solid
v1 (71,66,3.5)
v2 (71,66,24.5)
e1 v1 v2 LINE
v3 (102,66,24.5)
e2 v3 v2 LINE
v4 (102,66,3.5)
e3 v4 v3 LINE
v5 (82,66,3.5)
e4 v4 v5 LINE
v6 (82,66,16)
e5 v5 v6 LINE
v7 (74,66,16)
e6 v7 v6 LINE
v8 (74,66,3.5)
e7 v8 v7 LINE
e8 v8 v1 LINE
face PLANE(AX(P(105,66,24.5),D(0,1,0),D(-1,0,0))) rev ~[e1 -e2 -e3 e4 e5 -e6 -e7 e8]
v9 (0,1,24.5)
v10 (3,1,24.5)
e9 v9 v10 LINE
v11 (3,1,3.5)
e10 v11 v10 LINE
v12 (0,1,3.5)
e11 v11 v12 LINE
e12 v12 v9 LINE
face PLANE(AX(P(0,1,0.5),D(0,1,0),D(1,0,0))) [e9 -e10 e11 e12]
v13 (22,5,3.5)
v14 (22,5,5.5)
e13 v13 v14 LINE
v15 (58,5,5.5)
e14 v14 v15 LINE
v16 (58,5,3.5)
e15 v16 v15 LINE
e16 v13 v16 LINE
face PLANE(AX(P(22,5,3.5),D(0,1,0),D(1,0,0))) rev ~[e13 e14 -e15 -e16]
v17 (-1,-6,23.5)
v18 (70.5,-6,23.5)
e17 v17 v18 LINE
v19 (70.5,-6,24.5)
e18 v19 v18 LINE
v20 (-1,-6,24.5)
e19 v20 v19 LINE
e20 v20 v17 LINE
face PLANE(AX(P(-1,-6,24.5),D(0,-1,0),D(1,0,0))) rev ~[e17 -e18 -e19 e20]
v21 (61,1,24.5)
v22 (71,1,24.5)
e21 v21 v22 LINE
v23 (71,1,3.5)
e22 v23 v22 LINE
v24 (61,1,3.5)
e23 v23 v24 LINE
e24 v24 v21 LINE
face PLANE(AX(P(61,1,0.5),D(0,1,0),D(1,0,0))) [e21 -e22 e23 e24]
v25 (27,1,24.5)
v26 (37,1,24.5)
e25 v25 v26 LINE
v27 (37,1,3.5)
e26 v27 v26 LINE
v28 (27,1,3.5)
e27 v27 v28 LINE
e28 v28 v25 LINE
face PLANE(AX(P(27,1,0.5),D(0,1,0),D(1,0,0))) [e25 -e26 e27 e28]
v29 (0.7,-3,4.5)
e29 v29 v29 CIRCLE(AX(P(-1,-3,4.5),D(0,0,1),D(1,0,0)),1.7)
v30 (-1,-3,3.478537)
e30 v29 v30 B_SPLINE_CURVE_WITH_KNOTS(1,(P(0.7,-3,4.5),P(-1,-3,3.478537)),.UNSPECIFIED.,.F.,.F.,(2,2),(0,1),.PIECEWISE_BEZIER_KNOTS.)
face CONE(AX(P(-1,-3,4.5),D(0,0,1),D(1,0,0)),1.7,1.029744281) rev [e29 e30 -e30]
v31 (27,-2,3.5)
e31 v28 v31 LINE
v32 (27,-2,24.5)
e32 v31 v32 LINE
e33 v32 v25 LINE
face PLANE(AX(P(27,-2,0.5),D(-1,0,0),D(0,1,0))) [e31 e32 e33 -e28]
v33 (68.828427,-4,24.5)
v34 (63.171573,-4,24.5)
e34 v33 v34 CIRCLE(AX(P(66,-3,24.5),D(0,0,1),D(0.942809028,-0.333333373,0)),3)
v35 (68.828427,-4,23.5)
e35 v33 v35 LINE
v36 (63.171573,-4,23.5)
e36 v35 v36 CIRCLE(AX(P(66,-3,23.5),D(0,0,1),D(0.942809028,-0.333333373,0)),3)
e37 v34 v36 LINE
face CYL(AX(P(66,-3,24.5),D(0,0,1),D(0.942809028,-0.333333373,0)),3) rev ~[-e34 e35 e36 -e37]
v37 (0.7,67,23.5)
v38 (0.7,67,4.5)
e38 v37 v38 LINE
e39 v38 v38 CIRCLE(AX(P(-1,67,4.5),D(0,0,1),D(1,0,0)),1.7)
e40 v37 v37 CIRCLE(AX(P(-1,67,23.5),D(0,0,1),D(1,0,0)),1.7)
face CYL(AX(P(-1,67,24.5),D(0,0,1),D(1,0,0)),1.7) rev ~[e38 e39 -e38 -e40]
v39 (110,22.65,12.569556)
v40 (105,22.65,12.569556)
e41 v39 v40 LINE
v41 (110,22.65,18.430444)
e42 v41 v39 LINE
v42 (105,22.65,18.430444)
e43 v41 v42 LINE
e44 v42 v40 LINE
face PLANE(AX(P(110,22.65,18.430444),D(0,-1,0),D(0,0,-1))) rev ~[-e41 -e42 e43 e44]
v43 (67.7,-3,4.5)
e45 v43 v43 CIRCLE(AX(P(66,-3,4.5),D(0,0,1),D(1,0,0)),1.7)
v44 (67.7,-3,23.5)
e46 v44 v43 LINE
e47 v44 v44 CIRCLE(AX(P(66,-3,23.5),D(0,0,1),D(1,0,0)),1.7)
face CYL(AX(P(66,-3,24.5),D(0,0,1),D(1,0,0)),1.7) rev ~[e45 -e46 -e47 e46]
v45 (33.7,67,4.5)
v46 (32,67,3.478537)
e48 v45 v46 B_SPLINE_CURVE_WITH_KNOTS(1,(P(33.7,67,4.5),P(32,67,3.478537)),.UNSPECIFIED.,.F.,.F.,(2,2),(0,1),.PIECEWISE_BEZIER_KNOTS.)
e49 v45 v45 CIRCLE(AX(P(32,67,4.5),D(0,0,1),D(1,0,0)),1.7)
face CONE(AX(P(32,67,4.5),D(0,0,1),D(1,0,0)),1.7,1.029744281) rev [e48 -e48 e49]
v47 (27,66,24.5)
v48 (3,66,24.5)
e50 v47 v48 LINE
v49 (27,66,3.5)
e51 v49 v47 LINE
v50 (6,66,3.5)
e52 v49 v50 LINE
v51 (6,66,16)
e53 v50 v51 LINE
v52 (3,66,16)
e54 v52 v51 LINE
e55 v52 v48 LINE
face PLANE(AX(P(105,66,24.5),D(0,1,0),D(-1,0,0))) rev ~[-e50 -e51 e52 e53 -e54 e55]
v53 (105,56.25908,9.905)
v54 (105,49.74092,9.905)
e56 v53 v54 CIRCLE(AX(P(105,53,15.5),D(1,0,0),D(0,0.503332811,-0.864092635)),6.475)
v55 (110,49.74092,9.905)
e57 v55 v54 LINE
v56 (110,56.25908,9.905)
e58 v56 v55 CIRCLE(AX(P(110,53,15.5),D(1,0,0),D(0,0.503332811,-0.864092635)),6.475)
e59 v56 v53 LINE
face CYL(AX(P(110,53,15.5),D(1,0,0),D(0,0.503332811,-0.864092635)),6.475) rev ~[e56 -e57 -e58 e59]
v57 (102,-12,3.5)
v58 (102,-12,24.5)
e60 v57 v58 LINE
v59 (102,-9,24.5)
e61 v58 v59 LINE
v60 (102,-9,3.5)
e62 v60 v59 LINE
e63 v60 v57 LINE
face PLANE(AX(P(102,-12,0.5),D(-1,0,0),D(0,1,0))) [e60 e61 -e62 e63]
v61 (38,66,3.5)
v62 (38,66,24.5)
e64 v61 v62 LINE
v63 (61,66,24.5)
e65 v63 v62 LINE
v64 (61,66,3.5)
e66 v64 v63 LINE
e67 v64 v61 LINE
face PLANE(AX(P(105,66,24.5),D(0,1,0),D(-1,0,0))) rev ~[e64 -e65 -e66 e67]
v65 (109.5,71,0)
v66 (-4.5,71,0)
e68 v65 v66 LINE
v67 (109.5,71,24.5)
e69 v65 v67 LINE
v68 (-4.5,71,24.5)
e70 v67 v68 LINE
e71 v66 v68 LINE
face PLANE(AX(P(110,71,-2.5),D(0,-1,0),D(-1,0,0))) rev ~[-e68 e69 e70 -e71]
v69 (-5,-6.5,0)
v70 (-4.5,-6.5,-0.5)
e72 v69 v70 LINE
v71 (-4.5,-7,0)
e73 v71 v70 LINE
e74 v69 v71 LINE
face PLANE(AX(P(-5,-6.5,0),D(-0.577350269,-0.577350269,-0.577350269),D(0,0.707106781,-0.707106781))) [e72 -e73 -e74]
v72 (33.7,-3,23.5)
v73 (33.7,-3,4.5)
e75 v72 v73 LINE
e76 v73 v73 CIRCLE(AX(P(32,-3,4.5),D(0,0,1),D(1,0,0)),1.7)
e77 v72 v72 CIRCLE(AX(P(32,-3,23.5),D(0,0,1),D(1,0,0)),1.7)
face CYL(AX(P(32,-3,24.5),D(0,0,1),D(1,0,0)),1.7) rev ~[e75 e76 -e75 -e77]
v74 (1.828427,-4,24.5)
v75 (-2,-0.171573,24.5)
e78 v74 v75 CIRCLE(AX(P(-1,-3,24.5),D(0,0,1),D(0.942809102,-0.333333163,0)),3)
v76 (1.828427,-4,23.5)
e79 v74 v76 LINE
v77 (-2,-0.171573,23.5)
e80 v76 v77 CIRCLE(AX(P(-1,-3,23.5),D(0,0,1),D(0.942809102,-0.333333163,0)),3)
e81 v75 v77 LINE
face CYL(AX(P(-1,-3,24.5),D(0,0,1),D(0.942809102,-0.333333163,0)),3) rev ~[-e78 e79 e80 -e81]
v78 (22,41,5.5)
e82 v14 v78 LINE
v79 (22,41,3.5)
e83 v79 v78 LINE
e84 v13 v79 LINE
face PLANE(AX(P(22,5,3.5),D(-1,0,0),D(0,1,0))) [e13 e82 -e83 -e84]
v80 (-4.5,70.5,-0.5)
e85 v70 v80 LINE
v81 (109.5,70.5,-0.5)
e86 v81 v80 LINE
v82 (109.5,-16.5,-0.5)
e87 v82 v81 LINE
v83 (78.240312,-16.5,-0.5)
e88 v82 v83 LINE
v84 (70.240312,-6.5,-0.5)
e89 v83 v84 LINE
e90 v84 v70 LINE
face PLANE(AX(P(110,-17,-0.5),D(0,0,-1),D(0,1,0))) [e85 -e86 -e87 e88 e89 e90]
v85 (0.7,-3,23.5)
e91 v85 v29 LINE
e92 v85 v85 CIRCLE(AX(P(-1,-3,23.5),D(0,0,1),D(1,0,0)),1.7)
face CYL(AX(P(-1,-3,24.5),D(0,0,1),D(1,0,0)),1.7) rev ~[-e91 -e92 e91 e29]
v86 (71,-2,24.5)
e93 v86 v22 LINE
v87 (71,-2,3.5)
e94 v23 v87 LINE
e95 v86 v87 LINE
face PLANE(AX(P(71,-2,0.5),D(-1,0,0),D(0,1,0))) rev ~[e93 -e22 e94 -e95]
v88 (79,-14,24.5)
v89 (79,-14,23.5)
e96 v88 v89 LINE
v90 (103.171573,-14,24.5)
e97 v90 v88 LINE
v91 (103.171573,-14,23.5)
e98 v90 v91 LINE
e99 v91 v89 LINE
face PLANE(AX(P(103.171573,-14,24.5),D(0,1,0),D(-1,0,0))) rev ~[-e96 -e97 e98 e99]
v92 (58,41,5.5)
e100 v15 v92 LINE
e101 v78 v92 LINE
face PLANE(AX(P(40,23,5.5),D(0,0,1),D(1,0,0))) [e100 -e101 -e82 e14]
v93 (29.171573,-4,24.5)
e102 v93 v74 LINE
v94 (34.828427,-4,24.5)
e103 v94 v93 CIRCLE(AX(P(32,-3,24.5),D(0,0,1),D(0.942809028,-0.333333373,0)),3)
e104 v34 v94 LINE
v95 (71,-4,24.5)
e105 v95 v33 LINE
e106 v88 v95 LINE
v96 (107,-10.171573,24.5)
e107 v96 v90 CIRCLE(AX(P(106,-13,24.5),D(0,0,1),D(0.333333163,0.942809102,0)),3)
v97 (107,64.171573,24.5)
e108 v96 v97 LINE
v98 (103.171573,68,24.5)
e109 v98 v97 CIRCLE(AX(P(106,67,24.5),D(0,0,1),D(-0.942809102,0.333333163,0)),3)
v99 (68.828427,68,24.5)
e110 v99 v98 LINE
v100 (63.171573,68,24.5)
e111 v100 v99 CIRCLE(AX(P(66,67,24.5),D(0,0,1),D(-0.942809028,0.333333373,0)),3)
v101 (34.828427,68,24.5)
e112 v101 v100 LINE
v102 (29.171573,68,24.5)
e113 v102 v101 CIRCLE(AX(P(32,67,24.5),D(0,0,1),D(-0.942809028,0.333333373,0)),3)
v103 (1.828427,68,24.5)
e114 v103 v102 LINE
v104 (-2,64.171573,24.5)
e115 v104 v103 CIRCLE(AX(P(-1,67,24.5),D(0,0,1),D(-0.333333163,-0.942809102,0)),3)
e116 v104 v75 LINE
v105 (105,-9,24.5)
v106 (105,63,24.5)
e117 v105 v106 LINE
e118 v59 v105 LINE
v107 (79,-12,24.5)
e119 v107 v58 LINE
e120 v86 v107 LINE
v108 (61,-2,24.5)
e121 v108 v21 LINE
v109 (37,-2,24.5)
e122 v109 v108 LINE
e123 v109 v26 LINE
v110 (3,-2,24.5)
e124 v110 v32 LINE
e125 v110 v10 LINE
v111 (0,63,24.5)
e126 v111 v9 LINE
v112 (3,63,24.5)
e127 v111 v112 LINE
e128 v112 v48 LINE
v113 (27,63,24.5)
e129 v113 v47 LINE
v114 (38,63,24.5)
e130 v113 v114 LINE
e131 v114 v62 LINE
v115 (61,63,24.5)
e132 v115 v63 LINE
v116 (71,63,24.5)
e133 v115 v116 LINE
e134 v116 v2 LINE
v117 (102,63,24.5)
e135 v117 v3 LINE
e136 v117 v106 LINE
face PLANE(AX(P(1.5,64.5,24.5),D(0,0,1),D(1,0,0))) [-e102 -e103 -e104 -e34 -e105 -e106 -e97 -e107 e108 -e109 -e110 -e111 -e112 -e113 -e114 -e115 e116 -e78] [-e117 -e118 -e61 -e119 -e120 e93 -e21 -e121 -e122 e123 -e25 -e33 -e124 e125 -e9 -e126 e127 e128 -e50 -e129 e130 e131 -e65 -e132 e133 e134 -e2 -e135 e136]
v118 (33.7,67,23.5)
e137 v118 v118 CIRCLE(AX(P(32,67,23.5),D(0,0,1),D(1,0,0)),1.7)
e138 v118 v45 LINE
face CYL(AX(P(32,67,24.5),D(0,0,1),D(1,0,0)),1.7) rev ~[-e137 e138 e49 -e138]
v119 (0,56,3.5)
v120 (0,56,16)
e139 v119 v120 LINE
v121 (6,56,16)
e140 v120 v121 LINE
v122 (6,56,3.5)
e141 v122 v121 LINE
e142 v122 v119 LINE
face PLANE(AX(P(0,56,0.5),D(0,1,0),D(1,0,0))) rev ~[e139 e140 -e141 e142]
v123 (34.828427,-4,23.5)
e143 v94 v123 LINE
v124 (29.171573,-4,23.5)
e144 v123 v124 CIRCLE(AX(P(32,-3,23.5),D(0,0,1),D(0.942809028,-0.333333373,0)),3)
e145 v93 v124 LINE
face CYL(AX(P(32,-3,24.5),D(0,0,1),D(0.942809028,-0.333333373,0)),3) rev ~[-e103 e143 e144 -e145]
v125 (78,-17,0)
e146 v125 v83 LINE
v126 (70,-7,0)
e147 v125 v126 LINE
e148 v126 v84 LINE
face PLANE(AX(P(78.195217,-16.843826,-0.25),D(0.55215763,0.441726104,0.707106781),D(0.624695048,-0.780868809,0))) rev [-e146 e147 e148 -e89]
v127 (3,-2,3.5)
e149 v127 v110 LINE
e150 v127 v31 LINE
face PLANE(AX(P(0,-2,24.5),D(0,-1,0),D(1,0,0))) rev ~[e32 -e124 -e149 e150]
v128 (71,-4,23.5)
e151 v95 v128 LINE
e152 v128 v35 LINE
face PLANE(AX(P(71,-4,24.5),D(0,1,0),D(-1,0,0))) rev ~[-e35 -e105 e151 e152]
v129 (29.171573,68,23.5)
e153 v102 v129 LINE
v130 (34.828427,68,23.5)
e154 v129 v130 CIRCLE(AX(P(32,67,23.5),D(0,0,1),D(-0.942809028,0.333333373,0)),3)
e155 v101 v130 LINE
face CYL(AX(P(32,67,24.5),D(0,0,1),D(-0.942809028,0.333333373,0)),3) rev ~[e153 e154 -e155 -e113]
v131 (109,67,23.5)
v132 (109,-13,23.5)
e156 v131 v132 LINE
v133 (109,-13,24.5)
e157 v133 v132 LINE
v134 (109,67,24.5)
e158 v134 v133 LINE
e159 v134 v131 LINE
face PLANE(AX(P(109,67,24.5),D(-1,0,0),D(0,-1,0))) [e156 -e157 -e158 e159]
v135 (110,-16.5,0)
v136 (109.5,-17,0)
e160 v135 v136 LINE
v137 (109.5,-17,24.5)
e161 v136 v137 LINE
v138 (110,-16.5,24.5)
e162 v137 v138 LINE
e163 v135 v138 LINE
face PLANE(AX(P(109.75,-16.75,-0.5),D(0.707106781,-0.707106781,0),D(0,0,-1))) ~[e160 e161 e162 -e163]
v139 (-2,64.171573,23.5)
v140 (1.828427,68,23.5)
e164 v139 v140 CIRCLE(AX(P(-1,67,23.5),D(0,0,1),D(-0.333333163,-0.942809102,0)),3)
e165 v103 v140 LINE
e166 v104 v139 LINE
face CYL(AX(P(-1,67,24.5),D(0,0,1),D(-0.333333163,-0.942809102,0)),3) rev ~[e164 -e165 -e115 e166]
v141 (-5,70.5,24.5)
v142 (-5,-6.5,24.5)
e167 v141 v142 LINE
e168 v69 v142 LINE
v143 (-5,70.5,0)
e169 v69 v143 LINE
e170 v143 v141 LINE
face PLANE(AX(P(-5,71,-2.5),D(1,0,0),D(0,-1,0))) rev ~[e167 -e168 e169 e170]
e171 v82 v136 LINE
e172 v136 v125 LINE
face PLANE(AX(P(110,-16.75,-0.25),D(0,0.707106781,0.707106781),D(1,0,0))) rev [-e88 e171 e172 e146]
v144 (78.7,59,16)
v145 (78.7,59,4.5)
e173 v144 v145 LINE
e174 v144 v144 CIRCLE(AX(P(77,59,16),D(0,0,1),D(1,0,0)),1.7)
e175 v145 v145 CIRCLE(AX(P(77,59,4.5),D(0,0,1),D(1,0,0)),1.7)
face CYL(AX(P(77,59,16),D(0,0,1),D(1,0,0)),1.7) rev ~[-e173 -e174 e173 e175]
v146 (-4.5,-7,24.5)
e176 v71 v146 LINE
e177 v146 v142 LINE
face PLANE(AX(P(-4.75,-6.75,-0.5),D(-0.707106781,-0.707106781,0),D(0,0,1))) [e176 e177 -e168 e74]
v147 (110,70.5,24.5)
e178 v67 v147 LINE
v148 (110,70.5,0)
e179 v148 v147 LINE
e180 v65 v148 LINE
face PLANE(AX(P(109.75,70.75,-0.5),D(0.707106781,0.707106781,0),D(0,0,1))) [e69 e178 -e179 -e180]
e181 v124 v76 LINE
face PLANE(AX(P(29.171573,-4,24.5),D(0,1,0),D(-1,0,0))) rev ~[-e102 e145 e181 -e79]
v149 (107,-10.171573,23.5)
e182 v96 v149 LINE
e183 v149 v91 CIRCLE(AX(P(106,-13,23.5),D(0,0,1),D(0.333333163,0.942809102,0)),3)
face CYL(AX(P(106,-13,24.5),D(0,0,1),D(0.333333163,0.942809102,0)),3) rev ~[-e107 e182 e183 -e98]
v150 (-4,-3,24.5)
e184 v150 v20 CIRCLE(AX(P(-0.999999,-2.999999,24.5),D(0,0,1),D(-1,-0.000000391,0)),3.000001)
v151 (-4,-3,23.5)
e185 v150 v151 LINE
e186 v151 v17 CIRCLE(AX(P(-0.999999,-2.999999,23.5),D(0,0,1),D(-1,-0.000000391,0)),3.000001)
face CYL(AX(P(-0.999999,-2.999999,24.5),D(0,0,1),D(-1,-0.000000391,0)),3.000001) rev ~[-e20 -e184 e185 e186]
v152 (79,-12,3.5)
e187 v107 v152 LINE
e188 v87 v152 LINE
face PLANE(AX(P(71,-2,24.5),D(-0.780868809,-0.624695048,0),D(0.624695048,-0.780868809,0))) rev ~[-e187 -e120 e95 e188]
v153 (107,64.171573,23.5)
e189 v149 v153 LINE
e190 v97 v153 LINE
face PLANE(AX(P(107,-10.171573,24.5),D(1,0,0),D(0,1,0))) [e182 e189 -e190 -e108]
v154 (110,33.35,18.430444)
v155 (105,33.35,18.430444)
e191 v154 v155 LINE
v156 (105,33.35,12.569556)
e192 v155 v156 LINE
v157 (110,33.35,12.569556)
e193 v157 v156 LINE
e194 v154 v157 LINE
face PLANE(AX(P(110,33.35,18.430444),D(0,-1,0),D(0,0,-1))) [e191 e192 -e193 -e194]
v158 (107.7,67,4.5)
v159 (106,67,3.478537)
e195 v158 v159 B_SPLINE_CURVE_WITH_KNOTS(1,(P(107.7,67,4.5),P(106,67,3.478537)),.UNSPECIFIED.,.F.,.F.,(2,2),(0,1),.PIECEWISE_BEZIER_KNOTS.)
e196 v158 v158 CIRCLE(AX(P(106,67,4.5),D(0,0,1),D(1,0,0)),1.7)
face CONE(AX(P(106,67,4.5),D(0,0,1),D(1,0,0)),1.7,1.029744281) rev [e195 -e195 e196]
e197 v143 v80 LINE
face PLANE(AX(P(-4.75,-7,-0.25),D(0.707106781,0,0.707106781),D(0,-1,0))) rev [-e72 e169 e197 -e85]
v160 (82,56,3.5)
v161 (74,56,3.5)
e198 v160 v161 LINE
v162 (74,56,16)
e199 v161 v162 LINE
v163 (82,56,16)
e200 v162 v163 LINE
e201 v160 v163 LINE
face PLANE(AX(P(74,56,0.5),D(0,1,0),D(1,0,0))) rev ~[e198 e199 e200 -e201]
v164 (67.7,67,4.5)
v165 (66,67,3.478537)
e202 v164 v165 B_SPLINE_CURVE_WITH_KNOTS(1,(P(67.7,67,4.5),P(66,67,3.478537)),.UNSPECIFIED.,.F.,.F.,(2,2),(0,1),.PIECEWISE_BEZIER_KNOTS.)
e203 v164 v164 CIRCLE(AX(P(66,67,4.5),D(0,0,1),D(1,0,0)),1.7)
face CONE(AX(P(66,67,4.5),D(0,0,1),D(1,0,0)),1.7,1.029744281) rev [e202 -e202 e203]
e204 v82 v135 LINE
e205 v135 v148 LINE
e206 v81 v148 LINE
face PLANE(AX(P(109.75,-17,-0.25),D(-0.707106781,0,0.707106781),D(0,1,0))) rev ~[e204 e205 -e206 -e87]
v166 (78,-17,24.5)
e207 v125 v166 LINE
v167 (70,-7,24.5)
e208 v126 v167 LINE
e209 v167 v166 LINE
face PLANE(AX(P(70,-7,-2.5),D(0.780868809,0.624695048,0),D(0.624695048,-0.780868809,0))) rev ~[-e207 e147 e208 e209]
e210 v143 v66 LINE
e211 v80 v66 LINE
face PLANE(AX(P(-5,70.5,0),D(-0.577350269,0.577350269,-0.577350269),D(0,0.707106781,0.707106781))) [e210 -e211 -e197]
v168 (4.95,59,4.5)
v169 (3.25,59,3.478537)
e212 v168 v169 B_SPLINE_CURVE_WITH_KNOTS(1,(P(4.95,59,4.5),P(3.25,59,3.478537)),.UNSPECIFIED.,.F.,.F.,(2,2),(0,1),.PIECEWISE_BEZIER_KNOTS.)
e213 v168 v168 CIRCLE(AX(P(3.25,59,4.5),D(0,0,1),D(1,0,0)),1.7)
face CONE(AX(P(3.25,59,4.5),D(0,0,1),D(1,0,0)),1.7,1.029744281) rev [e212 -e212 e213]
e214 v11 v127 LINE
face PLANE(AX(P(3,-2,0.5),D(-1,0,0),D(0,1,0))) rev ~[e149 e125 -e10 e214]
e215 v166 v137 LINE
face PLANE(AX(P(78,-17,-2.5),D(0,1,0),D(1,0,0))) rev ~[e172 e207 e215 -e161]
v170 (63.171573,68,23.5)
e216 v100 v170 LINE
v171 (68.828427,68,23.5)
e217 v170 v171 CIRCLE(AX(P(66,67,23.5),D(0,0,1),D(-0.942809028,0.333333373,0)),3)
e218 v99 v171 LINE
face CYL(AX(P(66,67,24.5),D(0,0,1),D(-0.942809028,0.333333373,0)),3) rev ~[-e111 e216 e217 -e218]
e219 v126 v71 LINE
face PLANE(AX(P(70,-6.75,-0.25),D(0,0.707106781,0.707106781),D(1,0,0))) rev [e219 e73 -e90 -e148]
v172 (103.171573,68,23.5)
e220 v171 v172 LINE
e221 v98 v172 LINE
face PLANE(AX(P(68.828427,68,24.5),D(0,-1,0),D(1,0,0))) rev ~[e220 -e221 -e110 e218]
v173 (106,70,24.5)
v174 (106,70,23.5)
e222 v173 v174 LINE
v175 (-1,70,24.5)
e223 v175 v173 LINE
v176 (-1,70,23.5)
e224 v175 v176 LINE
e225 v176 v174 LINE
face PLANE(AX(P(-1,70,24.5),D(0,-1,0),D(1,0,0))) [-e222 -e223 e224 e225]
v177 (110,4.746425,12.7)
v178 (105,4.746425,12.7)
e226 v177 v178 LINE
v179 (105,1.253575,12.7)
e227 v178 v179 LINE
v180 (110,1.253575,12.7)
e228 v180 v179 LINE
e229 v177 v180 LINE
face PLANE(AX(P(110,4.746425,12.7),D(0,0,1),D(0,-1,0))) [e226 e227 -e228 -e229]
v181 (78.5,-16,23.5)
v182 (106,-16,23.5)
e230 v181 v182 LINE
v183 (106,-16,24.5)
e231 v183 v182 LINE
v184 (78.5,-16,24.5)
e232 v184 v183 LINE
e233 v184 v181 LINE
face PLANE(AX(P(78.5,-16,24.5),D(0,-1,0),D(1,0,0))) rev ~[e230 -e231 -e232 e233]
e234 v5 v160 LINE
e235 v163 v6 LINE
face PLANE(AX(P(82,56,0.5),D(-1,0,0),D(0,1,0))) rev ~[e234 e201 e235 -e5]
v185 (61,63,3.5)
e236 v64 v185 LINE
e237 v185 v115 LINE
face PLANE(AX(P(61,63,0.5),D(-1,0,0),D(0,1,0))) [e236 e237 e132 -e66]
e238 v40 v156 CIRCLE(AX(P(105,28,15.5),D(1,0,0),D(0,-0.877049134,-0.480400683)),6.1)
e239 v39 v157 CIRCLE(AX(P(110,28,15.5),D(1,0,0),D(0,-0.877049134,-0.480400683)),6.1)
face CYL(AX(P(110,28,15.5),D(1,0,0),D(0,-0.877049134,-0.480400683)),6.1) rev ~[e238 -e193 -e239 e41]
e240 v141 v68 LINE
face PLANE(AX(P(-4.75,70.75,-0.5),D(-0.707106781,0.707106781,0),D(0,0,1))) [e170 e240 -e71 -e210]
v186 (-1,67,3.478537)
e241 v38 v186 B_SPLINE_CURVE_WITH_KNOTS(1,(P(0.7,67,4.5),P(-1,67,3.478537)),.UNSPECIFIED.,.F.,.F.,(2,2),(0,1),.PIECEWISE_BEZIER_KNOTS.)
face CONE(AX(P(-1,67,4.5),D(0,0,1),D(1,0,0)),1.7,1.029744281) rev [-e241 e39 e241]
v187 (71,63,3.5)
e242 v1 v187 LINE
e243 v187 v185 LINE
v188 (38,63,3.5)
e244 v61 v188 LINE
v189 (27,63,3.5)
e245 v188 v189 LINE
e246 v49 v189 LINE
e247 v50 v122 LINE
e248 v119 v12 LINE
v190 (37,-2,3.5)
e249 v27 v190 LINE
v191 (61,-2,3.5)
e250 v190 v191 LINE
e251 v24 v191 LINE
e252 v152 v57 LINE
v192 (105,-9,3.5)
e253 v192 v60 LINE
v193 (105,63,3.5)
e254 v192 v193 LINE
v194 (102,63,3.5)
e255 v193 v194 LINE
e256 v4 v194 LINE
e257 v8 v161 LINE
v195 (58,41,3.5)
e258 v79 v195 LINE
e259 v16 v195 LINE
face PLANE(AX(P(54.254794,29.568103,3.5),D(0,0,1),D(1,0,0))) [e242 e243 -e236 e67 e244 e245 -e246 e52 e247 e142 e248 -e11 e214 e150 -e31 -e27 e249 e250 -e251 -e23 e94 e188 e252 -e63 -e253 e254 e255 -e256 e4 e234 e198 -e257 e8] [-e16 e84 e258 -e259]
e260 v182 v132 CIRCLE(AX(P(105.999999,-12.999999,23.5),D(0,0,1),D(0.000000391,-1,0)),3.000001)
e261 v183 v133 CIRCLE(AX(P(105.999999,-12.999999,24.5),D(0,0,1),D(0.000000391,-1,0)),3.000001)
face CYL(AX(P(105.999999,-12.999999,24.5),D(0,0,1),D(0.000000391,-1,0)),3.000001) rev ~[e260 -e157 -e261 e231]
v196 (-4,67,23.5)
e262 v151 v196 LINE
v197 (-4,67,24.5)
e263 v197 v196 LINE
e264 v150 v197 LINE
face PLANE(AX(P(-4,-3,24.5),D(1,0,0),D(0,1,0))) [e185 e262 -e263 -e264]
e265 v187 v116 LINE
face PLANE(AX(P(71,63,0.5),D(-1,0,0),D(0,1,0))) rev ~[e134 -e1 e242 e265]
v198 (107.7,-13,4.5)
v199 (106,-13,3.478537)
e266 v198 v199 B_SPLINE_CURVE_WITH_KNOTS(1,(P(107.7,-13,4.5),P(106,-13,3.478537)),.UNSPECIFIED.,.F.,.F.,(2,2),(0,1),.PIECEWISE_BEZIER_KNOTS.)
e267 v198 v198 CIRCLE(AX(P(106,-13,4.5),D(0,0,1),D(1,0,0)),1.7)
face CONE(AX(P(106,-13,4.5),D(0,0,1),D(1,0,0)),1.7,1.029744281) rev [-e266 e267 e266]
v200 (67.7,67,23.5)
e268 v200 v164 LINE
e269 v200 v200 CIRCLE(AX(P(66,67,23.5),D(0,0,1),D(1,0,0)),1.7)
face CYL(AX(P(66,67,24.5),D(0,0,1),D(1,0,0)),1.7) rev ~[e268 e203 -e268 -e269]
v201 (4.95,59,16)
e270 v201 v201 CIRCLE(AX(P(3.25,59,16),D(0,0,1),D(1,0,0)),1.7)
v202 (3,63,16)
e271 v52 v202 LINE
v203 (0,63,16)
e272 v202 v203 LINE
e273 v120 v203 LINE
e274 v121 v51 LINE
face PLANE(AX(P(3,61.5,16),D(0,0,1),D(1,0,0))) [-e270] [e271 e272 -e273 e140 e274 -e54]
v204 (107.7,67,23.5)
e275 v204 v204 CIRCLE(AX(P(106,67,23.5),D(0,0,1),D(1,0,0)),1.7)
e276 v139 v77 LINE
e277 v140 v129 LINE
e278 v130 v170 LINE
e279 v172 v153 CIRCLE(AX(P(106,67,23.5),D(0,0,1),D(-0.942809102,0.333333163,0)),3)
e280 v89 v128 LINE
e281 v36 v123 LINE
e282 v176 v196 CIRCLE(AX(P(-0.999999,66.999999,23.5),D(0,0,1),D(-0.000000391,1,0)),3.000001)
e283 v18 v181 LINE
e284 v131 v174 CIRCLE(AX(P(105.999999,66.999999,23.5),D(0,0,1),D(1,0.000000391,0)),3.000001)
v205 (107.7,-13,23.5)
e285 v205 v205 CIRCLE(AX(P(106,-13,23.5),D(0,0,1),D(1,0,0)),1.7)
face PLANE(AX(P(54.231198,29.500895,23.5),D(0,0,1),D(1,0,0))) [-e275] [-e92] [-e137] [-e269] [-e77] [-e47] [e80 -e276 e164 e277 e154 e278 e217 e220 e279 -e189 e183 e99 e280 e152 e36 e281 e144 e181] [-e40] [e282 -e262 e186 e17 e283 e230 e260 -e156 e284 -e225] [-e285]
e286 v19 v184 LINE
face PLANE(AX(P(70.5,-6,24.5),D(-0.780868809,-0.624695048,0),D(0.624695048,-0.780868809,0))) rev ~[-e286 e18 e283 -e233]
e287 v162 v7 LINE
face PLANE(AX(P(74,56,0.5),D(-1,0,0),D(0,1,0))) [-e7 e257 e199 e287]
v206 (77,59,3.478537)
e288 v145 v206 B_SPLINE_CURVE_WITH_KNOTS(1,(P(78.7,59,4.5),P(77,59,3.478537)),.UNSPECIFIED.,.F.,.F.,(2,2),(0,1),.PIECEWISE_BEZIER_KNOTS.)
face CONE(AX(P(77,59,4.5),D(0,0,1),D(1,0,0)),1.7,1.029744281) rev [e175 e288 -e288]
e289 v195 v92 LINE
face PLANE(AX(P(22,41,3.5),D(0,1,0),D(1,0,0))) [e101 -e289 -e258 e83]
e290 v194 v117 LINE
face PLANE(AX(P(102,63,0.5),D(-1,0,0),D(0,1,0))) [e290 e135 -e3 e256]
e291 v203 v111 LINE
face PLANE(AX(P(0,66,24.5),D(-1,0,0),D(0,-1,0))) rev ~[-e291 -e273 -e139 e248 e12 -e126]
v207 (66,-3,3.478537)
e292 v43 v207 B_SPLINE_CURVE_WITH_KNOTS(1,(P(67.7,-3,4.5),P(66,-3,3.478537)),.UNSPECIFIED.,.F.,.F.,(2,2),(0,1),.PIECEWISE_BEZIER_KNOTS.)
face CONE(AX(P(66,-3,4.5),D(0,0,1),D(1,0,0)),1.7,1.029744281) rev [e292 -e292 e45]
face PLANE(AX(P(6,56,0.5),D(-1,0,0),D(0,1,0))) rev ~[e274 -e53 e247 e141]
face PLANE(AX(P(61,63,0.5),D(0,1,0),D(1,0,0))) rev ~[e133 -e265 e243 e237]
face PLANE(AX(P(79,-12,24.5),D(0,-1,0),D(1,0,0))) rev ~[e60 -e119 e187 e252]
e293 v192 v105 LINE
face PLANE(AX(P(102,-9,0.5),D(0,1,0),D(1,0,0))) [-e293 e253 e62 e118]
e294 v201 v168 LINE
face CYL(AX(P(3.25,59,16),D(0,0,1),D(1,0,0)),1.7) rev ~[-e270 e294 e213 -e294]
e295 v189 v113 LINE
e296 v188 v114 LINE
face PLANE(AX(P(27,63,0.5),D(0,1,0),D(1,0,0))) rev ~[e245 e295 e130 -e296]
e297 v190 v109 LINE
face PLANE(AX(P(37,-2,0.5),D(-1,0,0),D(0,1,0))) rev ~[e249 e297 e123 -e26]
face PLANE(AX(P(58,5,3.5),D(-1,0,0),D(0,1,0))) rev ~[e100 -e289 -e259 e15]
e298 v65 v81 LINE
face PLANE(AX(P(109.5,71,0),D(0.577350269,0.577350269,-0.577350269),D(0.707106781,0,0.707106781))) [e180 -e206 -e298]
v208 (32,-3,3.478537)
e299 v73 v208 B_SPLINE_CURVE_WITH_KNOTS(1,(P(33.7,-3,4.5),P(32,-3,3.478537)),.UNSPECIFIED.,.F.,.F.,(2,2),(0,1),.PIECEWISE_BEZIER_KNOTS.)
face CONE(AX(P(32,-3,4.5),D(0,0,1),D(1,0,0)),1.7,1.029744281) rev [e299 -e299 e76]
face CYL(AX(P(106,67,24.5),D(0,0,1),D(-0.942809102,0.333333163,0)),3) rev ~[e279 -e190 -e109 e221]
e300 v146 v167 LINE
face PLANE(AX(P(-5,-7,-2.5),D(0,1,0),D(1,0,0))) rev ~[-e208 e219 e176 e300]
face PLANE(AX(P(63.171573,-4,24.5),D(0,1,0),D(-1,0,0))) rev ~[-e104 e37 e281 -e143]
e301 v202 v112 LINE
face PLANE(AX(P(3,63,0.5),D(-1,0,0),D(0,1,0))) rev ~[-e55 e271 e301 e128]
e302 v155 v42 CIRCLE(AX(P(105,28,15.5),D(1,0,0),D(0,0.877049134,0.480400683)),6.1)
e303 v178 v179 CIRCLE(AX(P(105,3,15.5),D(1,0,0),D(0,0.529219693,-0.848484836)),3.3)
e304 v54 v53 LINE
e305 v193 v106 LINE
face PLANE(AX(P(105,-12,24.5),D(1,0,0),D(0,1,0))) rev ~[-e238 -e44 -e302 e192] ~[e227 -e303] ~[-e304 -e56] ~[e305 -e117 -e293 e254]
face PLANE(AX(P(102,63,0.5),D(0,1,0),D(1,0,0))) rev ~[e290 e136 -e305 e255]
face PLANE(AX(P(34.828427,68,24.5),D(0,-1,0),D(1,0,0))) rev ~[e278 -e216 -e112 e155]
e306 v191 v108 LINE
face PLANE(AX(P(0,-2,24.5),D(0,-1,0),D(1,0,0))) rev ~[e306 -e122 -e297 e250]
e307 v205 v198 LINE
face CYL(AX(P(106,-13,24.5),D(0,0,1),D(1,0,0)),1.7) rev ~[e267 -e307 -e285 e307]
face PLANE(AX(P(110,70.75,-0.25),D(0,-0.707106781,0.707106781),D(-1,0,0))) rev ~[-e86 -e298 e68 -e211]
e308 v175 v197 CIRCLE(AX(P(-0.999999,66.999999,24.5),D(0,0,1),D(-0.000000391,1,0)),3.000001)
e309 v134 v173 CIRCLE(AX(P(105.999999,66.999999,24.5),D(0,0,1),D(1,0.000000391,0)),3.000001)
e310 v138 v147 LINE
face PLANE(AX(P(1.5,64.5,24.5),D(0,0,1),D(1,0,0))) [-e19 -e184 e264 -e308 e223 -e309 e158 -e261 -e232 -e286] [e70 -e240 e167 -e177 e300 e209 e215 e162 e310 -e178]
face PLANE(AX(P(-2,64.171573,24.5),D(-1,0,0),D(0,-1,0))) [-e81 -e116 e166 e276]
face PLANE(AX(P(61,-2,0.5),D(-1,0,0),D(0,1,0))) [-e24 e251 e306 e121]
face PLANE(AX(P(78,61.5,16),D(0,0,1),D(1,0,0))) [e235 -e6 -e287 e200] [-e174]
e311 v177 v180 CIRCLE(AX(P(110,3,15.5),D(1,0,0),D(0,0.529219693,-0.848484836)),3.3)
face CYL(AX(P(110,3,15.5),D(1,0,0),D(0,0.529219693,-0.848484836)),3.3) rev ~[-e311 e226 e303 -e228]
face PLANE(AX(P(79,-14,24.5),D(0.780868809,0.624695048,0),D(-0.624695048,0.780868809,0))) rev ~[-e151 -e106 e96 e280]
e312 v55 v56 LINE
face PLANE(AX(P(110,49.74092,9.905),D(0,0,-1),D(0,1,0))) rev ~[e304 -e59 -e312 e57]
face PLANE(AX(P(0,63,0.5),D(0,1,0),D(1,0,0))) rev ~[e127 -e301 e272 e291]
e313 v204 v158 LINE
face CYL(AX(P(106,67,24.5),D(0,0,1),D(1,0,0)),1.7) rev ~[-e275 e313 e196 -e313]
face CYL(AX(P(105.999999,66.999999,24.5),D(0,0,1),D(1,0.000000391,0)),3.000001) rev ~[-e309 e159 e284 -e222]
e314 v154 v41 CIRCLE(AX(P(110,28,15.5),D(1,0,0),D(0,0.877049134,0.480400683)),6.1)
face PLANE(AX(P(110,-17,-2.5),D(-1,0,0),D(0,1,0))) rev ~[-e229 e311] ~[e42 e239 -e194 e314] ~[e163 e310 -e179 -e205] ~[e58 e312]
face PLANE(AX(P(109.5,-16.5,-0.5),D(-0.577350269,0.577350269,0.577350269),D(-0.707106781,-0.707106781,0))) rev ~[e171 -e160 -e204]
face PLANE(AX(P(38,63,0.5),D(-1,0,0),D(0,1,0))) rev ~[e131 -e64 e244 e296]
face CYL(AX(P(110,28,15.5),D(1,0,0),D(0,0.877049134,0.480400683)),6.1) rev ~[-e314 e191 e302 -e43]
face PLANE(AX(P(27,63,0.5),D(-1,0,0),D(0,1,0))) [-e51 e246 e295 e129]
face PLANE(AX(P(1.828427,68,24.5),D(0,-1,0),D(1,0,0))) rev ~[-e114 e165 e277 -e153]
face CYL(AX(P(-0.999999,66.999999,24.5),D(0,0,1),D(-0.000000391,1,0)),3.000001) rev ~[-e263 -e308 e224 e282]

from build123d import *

# Parameters (mm, degrees)
PAD_DEPTH       = 27
POCKET_DEPTH    = 21
POCKET005_DEPTH = 5
SKETCH015_W     = 6
SKETCH015_H     = 11
SKETCH015_W_2   = 8
PAD006_DEPTH    = 15.5
SKETCH012_W     = 3
SKETCH012_H     = 3
SKETCH012_W_2   = 10
SKETCH012_W_3   = 11
PAD007_DEPTH    = 24
SKETCH016_R     = 1.7
HOLE_DEPTH      = 11.5
HOLE_TIPS_R     = 1.7
SKETCH017_R     = 1.7
HOLE001_DEPTH   = 20
HOLE001_TIPS_R  = 1.7
SKETCH018_W     = 36
SKETCH018_H     = 36
PAD008_DEPTH    = 2
SKETCH025_R     = 1.7
POCKET010_DEPTH = 1
SKETCH028_W     = 88
SKETCH028_H     = 2
POCKET011_DEPTH = 115.001
CHAMFER_SIZE    = 0.5


with BuildPart() as part:
    # Sketch → Pad (new body)
    with BuildSketch(Plane.XY):
        Polygon((-5, -7), (70, -7), (78, -17), (110, -17), (110, 71), (-5, 71), align=None)
    extrude(amount=PAD_DEPTH)

    # Sketch001 (on Face8 of Pad) → Pocket (cut)
    with BuildSketch(Plane.XY.offset(27)):
        Polygon((0, 66), (0, -2), (71, -2), (79, -12), (105, -12), (105, 66), align=None)
    extrude(amount=-POCKET_DEPTH, mode=Mode.SUBTRACT)

    # Sketch014 → Pocket005 (cut)
    with BuildSketch(Plane.YZ.offset(110)):
        with BuildLine():
            ThreePointArc((56.25908, 12.405), (53, 24.475), (49.74092, 12.405))
            Line((49.74092, 12.405), (56.25908, 12.405))
        make_face()
        with BuildLine():
            ThreePointArc((4.746425, 15.2), (3, 21.3), (1.253575, 15.2))
            Line((4.746425, 15.2), (1.253575, 15.2))
        make_face()
        with BuildLine():
            ThreePointArc((22.65, 15.069556), (28, 11.9), (33.35, 15.069556))
            Line((33.35, 20.930444), (33.35, 15.069556))
            ThreePointArc((33.35, 20.930444), (28, 24.1), (22.65, 20.930444))
            Line((22.65, 20.930444), (22.65, 15.069556))
        make_face()
    extrude(amount=-POCKET005_DEPTH, mode=Mode.SUBTRACT)

    # Sketch015 → Pad006 (join)
    with BuildSketch(Plane.XY.offset(3)):
        with Locations((3, 61.5)):
            Rectangle(SKETCH015_W, SKETCH015_H)
        with Locations((78, 61.5)):
            Rectangle(SKETCH015_W_2, SKETCH015_H)
    extrude(amount=PAD006_DEPTH)

    # Sketch012 → Pad007 (join)
    with BuildSketch(Plane.XY.offset(3)):
        with Locations((1.5, 64.5)):
            Rectangle(SKETCH012_W, SKETCH012_H)
        with Locations((103.5, 64.5)):
            Rectangle(SKETCH012_W, SKETCH012_H)
        with Locations((103.5, -10.5)):
            Rectangle(SKETCH012_W, SKETCH012_H)
        with Locations((1.5, -0.5)):
            Rectangle(SKETCH012_W, SKETCH012_H)
        with Locations((66, 64.5)):
            Rectangle(SKETCH012_W_2, SKETCH012_H)
        with Locations((32, -0.5)):
            Rectangle(SKETCH012_W_2, SKETCH012_H)
        with Locations((66, -0.5)):
            Rectangle(SKETCH012_W_2, SKETCH012_H)
        with Locations((32.5, 64.5)):
            Rectangle(SKETCH012_W_3, SKETCH012_H)
    extrude(amount=PAD007_DEPTH)

    # Sketch016 → Hole (cut)
    with BuildSketch(Plane.XY.offset(18.5)):
        with Locations((3.25, 59)):
            Circle(SKETCH016_R)
        with Locations((77, 59)):
            Circle(SKETCH016_R)
    extrude(amount=-HOLE_DEPTH, mode=Mode.SUBTRACT)

    # Hole tips → Hole tip 1 section 0
    with BuildSketch(Plane.XY.offset(7), mode=Mode.PRIVATE) as hole_tip_1_s0:
        with Locations((3.25, 59)):
            Circle(HOLE_TIPS_R)
    loft([hole_tip_1_s0.sketch, Vertex(3.25, 59, 5.978537)], mode=Mode.SUBTRACT)

    # Hole tips → Hole tip 2 section 0
    with BuildSketch(Plane.XY.offset(7), mode=Mode.PRIVATE) as hole_tip_2_s0:
        with Locations((77, 59)):
            Circle(HOLE_TIPS_R)
    loft([hole_tip_2_s0.sketch, Vertex(77, 59, 5.978537)], mode=Mode.SUBTRACT)

    # Sketch017 (on Face2 of Hole) → Hole001 (cut)
    with BuildSketch(Plane.XY.offset(27)):
        with Locations((-1, 67)):
            Circle(SKETCH017_R)
        with Locations((106, 67)):
            Circle(SKETCH017_R)
        with Locations((106, -13)):
            Circle(SKETCH017_R)
        with Locations((-1, -3)):
            Circle(SKETCH017_R)
        with Locations((66, 67)):
            Circle(SKETCH017_R)
        with Locations((66, -3)):
            Circle(SKETCH017_R)
        with Locations((32, -3)):
            Circle(SKETCH017_R)
        with Locations((32, 67)):
            Circle(SKETCH017_R)
    extrude(amount=-HOLE001_DEPTH, mode=Mode.SUBTRACT)

    # Hole001 tips → Hole001 tip 1 section 0
    with BuildSketch(Plane.XY.offset(7), mode=Mode.PRIVATE) as hole001_tip_1_s0:
        with Locations((-1, 67)):
            Circle(HOLE001_TIPS_R)
    loft([hole001_tip_1_s0.sketch, Vertex(-1, 67, 5.978537)], mode=Mode.SUBTRACT)

    # Hole001 tips → Hole001 tip 2 section 0
    with BuildSketch(Plane.XY.offset(7), mode=Mode.PRIVATE) as hole001_tip_2_s0:
        with Locations((106, 67)):
            Circle(HOLE001_TIPS_R)
    loft([hole001_tip_2_s0.sketch, Vertex(106, 67, 5.978537)], mode=Mode.SUBTRACT)

    # Hole001 tips → Hole001 tip 3 section 0
    with BuildSketch(Plane.XY.offset(7), mode=Mode.PRIVATE) as hole001_tip_3_s0:
        with Locations((106, -13)):
            Circle(HOLE001_TIPS_R)
    loft([hole001_tip_3_s0.sketch, Vertex(106, -13, 5.978537)], mode=Mode.SUBTRACT)

    # Hole001 tips → Hole001 tip 4 section 0
    with BuildSketch(Plane.XY.offset(7), mode=Mode.PRIVATE) as hole001_tip_4_s0:
        with Locations((-1, -3)):
            Circle(HOLE001_TIPS_R)
    loft([hole001_tip_4_s0.sketch, Vertex(-1, -3, 5.978537)], mode=Mode.SUBTRACT)

    # Hole001 tips → Hole001 tip 5 section 0
    with BuildSketch(Plane.XY.offset(7), mode=Mode.PRIVATE) as hole001_tip_5_s0:
        with Locations((66, 67)):
            Circle(HOLE001_TIPS_R)
    loft([hole001_tip_5_s0.sketch, Vertex(66, 67, 5.978537)], mode=Mode.SUBTRACT)

    # Hole001 tips → Hole001 tip 6 section 0
    with BuildSketch(Plane.XY.offset(7), mode=Mode.PRIVATE) as hole001_tip_6_s0:
        with Locations((66, -3)):
            Circle(HOLE001_TIPS_R)
    loft([hole001_tip_6_s0.sketch, Vertex(66, -3, 5.978537)], mode=Mode.SUBTRACT)

    # Hole001 tips → Hole001 tip 7 section 0
    with BuildSketch(Plane.XY.offset(7), mode=Mode.PRIVATE) as hole001_tip_7_s0:
        with Locations((32, -3)):
            Circle(HOLE001_TIPS_R)
    loft([hole001_tip_7_s0.sketch, Vertex(32, -3, 5.978537)], mode=Mode.SUBTRACT)

    # Hole001 tips → Hole001 tip 8 section 0
    with BuildSketch(Plane.XY.offset(7), mode=Mode.PRIVATE) as hole001_tip_8_s0:
        with Locations((32, 67)):
            Circle(HOLE001_TIPS_R)
    loft([hole001_tip_8_s0.sketch, Vertex(32, 67, 5.978537)], mode=Mode.SUBTRACT)

    # Sketch018 → Pad008 (join)
    with BuildSketch(Plane.XY.offset(6)):
        with Locations((40, 23)):
            Rectangle(SKETCH018_W, SKETCH018_H)
    extrude(amount=PAD008_DEPTH)

    # Sketch025 → Pocket010 (cut)
    with BuildSketch(Plane.XY.offset(27)):
        with BuildLine():
            ThreePointArc((109, 67), (108.12132, 69.12132), (106, 70))
            Line((-1, 70), (106, 70))
            ThreePointArc((-1, 70), (-3.12132, 69.12132), (-4, 67))
            Line((-4, -3), (-4, 67))
            ThreePointArc((-4, -3), (-3.12132, -5.12132), (-1, -6))
            Line((-1, -6), (70.5, -6))
            Line((70.5, -6), (78.5, -16))
            Line((78.5, -16), (106, -16))
            ThreePointArc((106, -16), (108.12132, -15.12132), (109, -13))
            Line((109, 67), (109, -13))
        make_face()
        with Locations((32, 67)):
            Circle(SKETCH025_R, mode=Mode.SUBTRACT)
        with Locations((32, -3)):
            Circle(SKETCH025_R, mode=Mode.SUBTRACT)
        with BuildLine():
            Line((107, -10.171573), (107, 64.171573))
            ThreePointArc((103.171573, 68), (103.87868, 64.87868), (107, 64.171573))
            Line((68.828427, 68), (103.171573, 68))
            ThreePointArc((63.171573, 68), (66, 64), (68.828427, 68))
            Line((34.828427, 68), (63.171573, 68))
            ThreePointArc((29.171573, 68), (32, 64), (34.828427, 68))
            Line((1.828427, 68), (29.171573, 68))
            ThreePointArc((-2, 64.171573), (1.12132, 64.87868), (1.828427, 68))
            Line((-2, 64.171573), (-2, -0.171573))
            ThreePointArc((1.828427, -4), (1.12132, -0.87868), (-2, -0.171573))
            Line((29.171573, -4), (1.828427, -4))
            ThreePointArc((34.828427, -4), (32, 0), (29.171573, -4))
            Line((63.171573, -4), (34.828427, -4))
            ThreePointArc((68.828427, -4), (66, 0), (63.171573, -4))
            Line((71, -4), (68.828427, -4))
            Line((79, -14), (71, -4))
            Line((103.171573, -14), (79, -14))
            ThreePointArc((107, -10.171573), (103.87868, -10.87868), (103.171573, -14))
        make_face(mode=Mode.SUBTRACT)
    extrude(amount=-POCKET010_DEPTH, mode=Mode.SUBTRACT)

    # Sketch028 (on Face92 of Pocket010) → Pocket011 (cut, through all)
    with BuildSketch(Plane.YZ.offset(110)):
        with Locations((27, 1)):
            Rectangle(SKETCH028_W, SKETCH028_H)
    extrude(amount=-POCKET011_DEPTH, mode=Mode.SUBTRACT)

    # Chamfer
    chamfer_edges = [part.edges().sort_by_distance(p)[0] for p in [
        (110, -17, 14.5),
        (110, 27, 2),
        (52.5, 71, 2),
        (110, 71, 14.5),
        (32.5, -7, 2),
        (94, -17, 2),
        (74, -12, 2),
        (-5, -7, 14.5),
        (-5, 32, 2),
        (-5, 71, 14.5),
    ]]
    chamfer(chamfer_edges, length=CHAMFER_SIZE)


with BuildPart() as part_1:
    # Body placement: moved
    add(part.part.moved(Location((0, 0, -2.5))))


solid = part_1.part
